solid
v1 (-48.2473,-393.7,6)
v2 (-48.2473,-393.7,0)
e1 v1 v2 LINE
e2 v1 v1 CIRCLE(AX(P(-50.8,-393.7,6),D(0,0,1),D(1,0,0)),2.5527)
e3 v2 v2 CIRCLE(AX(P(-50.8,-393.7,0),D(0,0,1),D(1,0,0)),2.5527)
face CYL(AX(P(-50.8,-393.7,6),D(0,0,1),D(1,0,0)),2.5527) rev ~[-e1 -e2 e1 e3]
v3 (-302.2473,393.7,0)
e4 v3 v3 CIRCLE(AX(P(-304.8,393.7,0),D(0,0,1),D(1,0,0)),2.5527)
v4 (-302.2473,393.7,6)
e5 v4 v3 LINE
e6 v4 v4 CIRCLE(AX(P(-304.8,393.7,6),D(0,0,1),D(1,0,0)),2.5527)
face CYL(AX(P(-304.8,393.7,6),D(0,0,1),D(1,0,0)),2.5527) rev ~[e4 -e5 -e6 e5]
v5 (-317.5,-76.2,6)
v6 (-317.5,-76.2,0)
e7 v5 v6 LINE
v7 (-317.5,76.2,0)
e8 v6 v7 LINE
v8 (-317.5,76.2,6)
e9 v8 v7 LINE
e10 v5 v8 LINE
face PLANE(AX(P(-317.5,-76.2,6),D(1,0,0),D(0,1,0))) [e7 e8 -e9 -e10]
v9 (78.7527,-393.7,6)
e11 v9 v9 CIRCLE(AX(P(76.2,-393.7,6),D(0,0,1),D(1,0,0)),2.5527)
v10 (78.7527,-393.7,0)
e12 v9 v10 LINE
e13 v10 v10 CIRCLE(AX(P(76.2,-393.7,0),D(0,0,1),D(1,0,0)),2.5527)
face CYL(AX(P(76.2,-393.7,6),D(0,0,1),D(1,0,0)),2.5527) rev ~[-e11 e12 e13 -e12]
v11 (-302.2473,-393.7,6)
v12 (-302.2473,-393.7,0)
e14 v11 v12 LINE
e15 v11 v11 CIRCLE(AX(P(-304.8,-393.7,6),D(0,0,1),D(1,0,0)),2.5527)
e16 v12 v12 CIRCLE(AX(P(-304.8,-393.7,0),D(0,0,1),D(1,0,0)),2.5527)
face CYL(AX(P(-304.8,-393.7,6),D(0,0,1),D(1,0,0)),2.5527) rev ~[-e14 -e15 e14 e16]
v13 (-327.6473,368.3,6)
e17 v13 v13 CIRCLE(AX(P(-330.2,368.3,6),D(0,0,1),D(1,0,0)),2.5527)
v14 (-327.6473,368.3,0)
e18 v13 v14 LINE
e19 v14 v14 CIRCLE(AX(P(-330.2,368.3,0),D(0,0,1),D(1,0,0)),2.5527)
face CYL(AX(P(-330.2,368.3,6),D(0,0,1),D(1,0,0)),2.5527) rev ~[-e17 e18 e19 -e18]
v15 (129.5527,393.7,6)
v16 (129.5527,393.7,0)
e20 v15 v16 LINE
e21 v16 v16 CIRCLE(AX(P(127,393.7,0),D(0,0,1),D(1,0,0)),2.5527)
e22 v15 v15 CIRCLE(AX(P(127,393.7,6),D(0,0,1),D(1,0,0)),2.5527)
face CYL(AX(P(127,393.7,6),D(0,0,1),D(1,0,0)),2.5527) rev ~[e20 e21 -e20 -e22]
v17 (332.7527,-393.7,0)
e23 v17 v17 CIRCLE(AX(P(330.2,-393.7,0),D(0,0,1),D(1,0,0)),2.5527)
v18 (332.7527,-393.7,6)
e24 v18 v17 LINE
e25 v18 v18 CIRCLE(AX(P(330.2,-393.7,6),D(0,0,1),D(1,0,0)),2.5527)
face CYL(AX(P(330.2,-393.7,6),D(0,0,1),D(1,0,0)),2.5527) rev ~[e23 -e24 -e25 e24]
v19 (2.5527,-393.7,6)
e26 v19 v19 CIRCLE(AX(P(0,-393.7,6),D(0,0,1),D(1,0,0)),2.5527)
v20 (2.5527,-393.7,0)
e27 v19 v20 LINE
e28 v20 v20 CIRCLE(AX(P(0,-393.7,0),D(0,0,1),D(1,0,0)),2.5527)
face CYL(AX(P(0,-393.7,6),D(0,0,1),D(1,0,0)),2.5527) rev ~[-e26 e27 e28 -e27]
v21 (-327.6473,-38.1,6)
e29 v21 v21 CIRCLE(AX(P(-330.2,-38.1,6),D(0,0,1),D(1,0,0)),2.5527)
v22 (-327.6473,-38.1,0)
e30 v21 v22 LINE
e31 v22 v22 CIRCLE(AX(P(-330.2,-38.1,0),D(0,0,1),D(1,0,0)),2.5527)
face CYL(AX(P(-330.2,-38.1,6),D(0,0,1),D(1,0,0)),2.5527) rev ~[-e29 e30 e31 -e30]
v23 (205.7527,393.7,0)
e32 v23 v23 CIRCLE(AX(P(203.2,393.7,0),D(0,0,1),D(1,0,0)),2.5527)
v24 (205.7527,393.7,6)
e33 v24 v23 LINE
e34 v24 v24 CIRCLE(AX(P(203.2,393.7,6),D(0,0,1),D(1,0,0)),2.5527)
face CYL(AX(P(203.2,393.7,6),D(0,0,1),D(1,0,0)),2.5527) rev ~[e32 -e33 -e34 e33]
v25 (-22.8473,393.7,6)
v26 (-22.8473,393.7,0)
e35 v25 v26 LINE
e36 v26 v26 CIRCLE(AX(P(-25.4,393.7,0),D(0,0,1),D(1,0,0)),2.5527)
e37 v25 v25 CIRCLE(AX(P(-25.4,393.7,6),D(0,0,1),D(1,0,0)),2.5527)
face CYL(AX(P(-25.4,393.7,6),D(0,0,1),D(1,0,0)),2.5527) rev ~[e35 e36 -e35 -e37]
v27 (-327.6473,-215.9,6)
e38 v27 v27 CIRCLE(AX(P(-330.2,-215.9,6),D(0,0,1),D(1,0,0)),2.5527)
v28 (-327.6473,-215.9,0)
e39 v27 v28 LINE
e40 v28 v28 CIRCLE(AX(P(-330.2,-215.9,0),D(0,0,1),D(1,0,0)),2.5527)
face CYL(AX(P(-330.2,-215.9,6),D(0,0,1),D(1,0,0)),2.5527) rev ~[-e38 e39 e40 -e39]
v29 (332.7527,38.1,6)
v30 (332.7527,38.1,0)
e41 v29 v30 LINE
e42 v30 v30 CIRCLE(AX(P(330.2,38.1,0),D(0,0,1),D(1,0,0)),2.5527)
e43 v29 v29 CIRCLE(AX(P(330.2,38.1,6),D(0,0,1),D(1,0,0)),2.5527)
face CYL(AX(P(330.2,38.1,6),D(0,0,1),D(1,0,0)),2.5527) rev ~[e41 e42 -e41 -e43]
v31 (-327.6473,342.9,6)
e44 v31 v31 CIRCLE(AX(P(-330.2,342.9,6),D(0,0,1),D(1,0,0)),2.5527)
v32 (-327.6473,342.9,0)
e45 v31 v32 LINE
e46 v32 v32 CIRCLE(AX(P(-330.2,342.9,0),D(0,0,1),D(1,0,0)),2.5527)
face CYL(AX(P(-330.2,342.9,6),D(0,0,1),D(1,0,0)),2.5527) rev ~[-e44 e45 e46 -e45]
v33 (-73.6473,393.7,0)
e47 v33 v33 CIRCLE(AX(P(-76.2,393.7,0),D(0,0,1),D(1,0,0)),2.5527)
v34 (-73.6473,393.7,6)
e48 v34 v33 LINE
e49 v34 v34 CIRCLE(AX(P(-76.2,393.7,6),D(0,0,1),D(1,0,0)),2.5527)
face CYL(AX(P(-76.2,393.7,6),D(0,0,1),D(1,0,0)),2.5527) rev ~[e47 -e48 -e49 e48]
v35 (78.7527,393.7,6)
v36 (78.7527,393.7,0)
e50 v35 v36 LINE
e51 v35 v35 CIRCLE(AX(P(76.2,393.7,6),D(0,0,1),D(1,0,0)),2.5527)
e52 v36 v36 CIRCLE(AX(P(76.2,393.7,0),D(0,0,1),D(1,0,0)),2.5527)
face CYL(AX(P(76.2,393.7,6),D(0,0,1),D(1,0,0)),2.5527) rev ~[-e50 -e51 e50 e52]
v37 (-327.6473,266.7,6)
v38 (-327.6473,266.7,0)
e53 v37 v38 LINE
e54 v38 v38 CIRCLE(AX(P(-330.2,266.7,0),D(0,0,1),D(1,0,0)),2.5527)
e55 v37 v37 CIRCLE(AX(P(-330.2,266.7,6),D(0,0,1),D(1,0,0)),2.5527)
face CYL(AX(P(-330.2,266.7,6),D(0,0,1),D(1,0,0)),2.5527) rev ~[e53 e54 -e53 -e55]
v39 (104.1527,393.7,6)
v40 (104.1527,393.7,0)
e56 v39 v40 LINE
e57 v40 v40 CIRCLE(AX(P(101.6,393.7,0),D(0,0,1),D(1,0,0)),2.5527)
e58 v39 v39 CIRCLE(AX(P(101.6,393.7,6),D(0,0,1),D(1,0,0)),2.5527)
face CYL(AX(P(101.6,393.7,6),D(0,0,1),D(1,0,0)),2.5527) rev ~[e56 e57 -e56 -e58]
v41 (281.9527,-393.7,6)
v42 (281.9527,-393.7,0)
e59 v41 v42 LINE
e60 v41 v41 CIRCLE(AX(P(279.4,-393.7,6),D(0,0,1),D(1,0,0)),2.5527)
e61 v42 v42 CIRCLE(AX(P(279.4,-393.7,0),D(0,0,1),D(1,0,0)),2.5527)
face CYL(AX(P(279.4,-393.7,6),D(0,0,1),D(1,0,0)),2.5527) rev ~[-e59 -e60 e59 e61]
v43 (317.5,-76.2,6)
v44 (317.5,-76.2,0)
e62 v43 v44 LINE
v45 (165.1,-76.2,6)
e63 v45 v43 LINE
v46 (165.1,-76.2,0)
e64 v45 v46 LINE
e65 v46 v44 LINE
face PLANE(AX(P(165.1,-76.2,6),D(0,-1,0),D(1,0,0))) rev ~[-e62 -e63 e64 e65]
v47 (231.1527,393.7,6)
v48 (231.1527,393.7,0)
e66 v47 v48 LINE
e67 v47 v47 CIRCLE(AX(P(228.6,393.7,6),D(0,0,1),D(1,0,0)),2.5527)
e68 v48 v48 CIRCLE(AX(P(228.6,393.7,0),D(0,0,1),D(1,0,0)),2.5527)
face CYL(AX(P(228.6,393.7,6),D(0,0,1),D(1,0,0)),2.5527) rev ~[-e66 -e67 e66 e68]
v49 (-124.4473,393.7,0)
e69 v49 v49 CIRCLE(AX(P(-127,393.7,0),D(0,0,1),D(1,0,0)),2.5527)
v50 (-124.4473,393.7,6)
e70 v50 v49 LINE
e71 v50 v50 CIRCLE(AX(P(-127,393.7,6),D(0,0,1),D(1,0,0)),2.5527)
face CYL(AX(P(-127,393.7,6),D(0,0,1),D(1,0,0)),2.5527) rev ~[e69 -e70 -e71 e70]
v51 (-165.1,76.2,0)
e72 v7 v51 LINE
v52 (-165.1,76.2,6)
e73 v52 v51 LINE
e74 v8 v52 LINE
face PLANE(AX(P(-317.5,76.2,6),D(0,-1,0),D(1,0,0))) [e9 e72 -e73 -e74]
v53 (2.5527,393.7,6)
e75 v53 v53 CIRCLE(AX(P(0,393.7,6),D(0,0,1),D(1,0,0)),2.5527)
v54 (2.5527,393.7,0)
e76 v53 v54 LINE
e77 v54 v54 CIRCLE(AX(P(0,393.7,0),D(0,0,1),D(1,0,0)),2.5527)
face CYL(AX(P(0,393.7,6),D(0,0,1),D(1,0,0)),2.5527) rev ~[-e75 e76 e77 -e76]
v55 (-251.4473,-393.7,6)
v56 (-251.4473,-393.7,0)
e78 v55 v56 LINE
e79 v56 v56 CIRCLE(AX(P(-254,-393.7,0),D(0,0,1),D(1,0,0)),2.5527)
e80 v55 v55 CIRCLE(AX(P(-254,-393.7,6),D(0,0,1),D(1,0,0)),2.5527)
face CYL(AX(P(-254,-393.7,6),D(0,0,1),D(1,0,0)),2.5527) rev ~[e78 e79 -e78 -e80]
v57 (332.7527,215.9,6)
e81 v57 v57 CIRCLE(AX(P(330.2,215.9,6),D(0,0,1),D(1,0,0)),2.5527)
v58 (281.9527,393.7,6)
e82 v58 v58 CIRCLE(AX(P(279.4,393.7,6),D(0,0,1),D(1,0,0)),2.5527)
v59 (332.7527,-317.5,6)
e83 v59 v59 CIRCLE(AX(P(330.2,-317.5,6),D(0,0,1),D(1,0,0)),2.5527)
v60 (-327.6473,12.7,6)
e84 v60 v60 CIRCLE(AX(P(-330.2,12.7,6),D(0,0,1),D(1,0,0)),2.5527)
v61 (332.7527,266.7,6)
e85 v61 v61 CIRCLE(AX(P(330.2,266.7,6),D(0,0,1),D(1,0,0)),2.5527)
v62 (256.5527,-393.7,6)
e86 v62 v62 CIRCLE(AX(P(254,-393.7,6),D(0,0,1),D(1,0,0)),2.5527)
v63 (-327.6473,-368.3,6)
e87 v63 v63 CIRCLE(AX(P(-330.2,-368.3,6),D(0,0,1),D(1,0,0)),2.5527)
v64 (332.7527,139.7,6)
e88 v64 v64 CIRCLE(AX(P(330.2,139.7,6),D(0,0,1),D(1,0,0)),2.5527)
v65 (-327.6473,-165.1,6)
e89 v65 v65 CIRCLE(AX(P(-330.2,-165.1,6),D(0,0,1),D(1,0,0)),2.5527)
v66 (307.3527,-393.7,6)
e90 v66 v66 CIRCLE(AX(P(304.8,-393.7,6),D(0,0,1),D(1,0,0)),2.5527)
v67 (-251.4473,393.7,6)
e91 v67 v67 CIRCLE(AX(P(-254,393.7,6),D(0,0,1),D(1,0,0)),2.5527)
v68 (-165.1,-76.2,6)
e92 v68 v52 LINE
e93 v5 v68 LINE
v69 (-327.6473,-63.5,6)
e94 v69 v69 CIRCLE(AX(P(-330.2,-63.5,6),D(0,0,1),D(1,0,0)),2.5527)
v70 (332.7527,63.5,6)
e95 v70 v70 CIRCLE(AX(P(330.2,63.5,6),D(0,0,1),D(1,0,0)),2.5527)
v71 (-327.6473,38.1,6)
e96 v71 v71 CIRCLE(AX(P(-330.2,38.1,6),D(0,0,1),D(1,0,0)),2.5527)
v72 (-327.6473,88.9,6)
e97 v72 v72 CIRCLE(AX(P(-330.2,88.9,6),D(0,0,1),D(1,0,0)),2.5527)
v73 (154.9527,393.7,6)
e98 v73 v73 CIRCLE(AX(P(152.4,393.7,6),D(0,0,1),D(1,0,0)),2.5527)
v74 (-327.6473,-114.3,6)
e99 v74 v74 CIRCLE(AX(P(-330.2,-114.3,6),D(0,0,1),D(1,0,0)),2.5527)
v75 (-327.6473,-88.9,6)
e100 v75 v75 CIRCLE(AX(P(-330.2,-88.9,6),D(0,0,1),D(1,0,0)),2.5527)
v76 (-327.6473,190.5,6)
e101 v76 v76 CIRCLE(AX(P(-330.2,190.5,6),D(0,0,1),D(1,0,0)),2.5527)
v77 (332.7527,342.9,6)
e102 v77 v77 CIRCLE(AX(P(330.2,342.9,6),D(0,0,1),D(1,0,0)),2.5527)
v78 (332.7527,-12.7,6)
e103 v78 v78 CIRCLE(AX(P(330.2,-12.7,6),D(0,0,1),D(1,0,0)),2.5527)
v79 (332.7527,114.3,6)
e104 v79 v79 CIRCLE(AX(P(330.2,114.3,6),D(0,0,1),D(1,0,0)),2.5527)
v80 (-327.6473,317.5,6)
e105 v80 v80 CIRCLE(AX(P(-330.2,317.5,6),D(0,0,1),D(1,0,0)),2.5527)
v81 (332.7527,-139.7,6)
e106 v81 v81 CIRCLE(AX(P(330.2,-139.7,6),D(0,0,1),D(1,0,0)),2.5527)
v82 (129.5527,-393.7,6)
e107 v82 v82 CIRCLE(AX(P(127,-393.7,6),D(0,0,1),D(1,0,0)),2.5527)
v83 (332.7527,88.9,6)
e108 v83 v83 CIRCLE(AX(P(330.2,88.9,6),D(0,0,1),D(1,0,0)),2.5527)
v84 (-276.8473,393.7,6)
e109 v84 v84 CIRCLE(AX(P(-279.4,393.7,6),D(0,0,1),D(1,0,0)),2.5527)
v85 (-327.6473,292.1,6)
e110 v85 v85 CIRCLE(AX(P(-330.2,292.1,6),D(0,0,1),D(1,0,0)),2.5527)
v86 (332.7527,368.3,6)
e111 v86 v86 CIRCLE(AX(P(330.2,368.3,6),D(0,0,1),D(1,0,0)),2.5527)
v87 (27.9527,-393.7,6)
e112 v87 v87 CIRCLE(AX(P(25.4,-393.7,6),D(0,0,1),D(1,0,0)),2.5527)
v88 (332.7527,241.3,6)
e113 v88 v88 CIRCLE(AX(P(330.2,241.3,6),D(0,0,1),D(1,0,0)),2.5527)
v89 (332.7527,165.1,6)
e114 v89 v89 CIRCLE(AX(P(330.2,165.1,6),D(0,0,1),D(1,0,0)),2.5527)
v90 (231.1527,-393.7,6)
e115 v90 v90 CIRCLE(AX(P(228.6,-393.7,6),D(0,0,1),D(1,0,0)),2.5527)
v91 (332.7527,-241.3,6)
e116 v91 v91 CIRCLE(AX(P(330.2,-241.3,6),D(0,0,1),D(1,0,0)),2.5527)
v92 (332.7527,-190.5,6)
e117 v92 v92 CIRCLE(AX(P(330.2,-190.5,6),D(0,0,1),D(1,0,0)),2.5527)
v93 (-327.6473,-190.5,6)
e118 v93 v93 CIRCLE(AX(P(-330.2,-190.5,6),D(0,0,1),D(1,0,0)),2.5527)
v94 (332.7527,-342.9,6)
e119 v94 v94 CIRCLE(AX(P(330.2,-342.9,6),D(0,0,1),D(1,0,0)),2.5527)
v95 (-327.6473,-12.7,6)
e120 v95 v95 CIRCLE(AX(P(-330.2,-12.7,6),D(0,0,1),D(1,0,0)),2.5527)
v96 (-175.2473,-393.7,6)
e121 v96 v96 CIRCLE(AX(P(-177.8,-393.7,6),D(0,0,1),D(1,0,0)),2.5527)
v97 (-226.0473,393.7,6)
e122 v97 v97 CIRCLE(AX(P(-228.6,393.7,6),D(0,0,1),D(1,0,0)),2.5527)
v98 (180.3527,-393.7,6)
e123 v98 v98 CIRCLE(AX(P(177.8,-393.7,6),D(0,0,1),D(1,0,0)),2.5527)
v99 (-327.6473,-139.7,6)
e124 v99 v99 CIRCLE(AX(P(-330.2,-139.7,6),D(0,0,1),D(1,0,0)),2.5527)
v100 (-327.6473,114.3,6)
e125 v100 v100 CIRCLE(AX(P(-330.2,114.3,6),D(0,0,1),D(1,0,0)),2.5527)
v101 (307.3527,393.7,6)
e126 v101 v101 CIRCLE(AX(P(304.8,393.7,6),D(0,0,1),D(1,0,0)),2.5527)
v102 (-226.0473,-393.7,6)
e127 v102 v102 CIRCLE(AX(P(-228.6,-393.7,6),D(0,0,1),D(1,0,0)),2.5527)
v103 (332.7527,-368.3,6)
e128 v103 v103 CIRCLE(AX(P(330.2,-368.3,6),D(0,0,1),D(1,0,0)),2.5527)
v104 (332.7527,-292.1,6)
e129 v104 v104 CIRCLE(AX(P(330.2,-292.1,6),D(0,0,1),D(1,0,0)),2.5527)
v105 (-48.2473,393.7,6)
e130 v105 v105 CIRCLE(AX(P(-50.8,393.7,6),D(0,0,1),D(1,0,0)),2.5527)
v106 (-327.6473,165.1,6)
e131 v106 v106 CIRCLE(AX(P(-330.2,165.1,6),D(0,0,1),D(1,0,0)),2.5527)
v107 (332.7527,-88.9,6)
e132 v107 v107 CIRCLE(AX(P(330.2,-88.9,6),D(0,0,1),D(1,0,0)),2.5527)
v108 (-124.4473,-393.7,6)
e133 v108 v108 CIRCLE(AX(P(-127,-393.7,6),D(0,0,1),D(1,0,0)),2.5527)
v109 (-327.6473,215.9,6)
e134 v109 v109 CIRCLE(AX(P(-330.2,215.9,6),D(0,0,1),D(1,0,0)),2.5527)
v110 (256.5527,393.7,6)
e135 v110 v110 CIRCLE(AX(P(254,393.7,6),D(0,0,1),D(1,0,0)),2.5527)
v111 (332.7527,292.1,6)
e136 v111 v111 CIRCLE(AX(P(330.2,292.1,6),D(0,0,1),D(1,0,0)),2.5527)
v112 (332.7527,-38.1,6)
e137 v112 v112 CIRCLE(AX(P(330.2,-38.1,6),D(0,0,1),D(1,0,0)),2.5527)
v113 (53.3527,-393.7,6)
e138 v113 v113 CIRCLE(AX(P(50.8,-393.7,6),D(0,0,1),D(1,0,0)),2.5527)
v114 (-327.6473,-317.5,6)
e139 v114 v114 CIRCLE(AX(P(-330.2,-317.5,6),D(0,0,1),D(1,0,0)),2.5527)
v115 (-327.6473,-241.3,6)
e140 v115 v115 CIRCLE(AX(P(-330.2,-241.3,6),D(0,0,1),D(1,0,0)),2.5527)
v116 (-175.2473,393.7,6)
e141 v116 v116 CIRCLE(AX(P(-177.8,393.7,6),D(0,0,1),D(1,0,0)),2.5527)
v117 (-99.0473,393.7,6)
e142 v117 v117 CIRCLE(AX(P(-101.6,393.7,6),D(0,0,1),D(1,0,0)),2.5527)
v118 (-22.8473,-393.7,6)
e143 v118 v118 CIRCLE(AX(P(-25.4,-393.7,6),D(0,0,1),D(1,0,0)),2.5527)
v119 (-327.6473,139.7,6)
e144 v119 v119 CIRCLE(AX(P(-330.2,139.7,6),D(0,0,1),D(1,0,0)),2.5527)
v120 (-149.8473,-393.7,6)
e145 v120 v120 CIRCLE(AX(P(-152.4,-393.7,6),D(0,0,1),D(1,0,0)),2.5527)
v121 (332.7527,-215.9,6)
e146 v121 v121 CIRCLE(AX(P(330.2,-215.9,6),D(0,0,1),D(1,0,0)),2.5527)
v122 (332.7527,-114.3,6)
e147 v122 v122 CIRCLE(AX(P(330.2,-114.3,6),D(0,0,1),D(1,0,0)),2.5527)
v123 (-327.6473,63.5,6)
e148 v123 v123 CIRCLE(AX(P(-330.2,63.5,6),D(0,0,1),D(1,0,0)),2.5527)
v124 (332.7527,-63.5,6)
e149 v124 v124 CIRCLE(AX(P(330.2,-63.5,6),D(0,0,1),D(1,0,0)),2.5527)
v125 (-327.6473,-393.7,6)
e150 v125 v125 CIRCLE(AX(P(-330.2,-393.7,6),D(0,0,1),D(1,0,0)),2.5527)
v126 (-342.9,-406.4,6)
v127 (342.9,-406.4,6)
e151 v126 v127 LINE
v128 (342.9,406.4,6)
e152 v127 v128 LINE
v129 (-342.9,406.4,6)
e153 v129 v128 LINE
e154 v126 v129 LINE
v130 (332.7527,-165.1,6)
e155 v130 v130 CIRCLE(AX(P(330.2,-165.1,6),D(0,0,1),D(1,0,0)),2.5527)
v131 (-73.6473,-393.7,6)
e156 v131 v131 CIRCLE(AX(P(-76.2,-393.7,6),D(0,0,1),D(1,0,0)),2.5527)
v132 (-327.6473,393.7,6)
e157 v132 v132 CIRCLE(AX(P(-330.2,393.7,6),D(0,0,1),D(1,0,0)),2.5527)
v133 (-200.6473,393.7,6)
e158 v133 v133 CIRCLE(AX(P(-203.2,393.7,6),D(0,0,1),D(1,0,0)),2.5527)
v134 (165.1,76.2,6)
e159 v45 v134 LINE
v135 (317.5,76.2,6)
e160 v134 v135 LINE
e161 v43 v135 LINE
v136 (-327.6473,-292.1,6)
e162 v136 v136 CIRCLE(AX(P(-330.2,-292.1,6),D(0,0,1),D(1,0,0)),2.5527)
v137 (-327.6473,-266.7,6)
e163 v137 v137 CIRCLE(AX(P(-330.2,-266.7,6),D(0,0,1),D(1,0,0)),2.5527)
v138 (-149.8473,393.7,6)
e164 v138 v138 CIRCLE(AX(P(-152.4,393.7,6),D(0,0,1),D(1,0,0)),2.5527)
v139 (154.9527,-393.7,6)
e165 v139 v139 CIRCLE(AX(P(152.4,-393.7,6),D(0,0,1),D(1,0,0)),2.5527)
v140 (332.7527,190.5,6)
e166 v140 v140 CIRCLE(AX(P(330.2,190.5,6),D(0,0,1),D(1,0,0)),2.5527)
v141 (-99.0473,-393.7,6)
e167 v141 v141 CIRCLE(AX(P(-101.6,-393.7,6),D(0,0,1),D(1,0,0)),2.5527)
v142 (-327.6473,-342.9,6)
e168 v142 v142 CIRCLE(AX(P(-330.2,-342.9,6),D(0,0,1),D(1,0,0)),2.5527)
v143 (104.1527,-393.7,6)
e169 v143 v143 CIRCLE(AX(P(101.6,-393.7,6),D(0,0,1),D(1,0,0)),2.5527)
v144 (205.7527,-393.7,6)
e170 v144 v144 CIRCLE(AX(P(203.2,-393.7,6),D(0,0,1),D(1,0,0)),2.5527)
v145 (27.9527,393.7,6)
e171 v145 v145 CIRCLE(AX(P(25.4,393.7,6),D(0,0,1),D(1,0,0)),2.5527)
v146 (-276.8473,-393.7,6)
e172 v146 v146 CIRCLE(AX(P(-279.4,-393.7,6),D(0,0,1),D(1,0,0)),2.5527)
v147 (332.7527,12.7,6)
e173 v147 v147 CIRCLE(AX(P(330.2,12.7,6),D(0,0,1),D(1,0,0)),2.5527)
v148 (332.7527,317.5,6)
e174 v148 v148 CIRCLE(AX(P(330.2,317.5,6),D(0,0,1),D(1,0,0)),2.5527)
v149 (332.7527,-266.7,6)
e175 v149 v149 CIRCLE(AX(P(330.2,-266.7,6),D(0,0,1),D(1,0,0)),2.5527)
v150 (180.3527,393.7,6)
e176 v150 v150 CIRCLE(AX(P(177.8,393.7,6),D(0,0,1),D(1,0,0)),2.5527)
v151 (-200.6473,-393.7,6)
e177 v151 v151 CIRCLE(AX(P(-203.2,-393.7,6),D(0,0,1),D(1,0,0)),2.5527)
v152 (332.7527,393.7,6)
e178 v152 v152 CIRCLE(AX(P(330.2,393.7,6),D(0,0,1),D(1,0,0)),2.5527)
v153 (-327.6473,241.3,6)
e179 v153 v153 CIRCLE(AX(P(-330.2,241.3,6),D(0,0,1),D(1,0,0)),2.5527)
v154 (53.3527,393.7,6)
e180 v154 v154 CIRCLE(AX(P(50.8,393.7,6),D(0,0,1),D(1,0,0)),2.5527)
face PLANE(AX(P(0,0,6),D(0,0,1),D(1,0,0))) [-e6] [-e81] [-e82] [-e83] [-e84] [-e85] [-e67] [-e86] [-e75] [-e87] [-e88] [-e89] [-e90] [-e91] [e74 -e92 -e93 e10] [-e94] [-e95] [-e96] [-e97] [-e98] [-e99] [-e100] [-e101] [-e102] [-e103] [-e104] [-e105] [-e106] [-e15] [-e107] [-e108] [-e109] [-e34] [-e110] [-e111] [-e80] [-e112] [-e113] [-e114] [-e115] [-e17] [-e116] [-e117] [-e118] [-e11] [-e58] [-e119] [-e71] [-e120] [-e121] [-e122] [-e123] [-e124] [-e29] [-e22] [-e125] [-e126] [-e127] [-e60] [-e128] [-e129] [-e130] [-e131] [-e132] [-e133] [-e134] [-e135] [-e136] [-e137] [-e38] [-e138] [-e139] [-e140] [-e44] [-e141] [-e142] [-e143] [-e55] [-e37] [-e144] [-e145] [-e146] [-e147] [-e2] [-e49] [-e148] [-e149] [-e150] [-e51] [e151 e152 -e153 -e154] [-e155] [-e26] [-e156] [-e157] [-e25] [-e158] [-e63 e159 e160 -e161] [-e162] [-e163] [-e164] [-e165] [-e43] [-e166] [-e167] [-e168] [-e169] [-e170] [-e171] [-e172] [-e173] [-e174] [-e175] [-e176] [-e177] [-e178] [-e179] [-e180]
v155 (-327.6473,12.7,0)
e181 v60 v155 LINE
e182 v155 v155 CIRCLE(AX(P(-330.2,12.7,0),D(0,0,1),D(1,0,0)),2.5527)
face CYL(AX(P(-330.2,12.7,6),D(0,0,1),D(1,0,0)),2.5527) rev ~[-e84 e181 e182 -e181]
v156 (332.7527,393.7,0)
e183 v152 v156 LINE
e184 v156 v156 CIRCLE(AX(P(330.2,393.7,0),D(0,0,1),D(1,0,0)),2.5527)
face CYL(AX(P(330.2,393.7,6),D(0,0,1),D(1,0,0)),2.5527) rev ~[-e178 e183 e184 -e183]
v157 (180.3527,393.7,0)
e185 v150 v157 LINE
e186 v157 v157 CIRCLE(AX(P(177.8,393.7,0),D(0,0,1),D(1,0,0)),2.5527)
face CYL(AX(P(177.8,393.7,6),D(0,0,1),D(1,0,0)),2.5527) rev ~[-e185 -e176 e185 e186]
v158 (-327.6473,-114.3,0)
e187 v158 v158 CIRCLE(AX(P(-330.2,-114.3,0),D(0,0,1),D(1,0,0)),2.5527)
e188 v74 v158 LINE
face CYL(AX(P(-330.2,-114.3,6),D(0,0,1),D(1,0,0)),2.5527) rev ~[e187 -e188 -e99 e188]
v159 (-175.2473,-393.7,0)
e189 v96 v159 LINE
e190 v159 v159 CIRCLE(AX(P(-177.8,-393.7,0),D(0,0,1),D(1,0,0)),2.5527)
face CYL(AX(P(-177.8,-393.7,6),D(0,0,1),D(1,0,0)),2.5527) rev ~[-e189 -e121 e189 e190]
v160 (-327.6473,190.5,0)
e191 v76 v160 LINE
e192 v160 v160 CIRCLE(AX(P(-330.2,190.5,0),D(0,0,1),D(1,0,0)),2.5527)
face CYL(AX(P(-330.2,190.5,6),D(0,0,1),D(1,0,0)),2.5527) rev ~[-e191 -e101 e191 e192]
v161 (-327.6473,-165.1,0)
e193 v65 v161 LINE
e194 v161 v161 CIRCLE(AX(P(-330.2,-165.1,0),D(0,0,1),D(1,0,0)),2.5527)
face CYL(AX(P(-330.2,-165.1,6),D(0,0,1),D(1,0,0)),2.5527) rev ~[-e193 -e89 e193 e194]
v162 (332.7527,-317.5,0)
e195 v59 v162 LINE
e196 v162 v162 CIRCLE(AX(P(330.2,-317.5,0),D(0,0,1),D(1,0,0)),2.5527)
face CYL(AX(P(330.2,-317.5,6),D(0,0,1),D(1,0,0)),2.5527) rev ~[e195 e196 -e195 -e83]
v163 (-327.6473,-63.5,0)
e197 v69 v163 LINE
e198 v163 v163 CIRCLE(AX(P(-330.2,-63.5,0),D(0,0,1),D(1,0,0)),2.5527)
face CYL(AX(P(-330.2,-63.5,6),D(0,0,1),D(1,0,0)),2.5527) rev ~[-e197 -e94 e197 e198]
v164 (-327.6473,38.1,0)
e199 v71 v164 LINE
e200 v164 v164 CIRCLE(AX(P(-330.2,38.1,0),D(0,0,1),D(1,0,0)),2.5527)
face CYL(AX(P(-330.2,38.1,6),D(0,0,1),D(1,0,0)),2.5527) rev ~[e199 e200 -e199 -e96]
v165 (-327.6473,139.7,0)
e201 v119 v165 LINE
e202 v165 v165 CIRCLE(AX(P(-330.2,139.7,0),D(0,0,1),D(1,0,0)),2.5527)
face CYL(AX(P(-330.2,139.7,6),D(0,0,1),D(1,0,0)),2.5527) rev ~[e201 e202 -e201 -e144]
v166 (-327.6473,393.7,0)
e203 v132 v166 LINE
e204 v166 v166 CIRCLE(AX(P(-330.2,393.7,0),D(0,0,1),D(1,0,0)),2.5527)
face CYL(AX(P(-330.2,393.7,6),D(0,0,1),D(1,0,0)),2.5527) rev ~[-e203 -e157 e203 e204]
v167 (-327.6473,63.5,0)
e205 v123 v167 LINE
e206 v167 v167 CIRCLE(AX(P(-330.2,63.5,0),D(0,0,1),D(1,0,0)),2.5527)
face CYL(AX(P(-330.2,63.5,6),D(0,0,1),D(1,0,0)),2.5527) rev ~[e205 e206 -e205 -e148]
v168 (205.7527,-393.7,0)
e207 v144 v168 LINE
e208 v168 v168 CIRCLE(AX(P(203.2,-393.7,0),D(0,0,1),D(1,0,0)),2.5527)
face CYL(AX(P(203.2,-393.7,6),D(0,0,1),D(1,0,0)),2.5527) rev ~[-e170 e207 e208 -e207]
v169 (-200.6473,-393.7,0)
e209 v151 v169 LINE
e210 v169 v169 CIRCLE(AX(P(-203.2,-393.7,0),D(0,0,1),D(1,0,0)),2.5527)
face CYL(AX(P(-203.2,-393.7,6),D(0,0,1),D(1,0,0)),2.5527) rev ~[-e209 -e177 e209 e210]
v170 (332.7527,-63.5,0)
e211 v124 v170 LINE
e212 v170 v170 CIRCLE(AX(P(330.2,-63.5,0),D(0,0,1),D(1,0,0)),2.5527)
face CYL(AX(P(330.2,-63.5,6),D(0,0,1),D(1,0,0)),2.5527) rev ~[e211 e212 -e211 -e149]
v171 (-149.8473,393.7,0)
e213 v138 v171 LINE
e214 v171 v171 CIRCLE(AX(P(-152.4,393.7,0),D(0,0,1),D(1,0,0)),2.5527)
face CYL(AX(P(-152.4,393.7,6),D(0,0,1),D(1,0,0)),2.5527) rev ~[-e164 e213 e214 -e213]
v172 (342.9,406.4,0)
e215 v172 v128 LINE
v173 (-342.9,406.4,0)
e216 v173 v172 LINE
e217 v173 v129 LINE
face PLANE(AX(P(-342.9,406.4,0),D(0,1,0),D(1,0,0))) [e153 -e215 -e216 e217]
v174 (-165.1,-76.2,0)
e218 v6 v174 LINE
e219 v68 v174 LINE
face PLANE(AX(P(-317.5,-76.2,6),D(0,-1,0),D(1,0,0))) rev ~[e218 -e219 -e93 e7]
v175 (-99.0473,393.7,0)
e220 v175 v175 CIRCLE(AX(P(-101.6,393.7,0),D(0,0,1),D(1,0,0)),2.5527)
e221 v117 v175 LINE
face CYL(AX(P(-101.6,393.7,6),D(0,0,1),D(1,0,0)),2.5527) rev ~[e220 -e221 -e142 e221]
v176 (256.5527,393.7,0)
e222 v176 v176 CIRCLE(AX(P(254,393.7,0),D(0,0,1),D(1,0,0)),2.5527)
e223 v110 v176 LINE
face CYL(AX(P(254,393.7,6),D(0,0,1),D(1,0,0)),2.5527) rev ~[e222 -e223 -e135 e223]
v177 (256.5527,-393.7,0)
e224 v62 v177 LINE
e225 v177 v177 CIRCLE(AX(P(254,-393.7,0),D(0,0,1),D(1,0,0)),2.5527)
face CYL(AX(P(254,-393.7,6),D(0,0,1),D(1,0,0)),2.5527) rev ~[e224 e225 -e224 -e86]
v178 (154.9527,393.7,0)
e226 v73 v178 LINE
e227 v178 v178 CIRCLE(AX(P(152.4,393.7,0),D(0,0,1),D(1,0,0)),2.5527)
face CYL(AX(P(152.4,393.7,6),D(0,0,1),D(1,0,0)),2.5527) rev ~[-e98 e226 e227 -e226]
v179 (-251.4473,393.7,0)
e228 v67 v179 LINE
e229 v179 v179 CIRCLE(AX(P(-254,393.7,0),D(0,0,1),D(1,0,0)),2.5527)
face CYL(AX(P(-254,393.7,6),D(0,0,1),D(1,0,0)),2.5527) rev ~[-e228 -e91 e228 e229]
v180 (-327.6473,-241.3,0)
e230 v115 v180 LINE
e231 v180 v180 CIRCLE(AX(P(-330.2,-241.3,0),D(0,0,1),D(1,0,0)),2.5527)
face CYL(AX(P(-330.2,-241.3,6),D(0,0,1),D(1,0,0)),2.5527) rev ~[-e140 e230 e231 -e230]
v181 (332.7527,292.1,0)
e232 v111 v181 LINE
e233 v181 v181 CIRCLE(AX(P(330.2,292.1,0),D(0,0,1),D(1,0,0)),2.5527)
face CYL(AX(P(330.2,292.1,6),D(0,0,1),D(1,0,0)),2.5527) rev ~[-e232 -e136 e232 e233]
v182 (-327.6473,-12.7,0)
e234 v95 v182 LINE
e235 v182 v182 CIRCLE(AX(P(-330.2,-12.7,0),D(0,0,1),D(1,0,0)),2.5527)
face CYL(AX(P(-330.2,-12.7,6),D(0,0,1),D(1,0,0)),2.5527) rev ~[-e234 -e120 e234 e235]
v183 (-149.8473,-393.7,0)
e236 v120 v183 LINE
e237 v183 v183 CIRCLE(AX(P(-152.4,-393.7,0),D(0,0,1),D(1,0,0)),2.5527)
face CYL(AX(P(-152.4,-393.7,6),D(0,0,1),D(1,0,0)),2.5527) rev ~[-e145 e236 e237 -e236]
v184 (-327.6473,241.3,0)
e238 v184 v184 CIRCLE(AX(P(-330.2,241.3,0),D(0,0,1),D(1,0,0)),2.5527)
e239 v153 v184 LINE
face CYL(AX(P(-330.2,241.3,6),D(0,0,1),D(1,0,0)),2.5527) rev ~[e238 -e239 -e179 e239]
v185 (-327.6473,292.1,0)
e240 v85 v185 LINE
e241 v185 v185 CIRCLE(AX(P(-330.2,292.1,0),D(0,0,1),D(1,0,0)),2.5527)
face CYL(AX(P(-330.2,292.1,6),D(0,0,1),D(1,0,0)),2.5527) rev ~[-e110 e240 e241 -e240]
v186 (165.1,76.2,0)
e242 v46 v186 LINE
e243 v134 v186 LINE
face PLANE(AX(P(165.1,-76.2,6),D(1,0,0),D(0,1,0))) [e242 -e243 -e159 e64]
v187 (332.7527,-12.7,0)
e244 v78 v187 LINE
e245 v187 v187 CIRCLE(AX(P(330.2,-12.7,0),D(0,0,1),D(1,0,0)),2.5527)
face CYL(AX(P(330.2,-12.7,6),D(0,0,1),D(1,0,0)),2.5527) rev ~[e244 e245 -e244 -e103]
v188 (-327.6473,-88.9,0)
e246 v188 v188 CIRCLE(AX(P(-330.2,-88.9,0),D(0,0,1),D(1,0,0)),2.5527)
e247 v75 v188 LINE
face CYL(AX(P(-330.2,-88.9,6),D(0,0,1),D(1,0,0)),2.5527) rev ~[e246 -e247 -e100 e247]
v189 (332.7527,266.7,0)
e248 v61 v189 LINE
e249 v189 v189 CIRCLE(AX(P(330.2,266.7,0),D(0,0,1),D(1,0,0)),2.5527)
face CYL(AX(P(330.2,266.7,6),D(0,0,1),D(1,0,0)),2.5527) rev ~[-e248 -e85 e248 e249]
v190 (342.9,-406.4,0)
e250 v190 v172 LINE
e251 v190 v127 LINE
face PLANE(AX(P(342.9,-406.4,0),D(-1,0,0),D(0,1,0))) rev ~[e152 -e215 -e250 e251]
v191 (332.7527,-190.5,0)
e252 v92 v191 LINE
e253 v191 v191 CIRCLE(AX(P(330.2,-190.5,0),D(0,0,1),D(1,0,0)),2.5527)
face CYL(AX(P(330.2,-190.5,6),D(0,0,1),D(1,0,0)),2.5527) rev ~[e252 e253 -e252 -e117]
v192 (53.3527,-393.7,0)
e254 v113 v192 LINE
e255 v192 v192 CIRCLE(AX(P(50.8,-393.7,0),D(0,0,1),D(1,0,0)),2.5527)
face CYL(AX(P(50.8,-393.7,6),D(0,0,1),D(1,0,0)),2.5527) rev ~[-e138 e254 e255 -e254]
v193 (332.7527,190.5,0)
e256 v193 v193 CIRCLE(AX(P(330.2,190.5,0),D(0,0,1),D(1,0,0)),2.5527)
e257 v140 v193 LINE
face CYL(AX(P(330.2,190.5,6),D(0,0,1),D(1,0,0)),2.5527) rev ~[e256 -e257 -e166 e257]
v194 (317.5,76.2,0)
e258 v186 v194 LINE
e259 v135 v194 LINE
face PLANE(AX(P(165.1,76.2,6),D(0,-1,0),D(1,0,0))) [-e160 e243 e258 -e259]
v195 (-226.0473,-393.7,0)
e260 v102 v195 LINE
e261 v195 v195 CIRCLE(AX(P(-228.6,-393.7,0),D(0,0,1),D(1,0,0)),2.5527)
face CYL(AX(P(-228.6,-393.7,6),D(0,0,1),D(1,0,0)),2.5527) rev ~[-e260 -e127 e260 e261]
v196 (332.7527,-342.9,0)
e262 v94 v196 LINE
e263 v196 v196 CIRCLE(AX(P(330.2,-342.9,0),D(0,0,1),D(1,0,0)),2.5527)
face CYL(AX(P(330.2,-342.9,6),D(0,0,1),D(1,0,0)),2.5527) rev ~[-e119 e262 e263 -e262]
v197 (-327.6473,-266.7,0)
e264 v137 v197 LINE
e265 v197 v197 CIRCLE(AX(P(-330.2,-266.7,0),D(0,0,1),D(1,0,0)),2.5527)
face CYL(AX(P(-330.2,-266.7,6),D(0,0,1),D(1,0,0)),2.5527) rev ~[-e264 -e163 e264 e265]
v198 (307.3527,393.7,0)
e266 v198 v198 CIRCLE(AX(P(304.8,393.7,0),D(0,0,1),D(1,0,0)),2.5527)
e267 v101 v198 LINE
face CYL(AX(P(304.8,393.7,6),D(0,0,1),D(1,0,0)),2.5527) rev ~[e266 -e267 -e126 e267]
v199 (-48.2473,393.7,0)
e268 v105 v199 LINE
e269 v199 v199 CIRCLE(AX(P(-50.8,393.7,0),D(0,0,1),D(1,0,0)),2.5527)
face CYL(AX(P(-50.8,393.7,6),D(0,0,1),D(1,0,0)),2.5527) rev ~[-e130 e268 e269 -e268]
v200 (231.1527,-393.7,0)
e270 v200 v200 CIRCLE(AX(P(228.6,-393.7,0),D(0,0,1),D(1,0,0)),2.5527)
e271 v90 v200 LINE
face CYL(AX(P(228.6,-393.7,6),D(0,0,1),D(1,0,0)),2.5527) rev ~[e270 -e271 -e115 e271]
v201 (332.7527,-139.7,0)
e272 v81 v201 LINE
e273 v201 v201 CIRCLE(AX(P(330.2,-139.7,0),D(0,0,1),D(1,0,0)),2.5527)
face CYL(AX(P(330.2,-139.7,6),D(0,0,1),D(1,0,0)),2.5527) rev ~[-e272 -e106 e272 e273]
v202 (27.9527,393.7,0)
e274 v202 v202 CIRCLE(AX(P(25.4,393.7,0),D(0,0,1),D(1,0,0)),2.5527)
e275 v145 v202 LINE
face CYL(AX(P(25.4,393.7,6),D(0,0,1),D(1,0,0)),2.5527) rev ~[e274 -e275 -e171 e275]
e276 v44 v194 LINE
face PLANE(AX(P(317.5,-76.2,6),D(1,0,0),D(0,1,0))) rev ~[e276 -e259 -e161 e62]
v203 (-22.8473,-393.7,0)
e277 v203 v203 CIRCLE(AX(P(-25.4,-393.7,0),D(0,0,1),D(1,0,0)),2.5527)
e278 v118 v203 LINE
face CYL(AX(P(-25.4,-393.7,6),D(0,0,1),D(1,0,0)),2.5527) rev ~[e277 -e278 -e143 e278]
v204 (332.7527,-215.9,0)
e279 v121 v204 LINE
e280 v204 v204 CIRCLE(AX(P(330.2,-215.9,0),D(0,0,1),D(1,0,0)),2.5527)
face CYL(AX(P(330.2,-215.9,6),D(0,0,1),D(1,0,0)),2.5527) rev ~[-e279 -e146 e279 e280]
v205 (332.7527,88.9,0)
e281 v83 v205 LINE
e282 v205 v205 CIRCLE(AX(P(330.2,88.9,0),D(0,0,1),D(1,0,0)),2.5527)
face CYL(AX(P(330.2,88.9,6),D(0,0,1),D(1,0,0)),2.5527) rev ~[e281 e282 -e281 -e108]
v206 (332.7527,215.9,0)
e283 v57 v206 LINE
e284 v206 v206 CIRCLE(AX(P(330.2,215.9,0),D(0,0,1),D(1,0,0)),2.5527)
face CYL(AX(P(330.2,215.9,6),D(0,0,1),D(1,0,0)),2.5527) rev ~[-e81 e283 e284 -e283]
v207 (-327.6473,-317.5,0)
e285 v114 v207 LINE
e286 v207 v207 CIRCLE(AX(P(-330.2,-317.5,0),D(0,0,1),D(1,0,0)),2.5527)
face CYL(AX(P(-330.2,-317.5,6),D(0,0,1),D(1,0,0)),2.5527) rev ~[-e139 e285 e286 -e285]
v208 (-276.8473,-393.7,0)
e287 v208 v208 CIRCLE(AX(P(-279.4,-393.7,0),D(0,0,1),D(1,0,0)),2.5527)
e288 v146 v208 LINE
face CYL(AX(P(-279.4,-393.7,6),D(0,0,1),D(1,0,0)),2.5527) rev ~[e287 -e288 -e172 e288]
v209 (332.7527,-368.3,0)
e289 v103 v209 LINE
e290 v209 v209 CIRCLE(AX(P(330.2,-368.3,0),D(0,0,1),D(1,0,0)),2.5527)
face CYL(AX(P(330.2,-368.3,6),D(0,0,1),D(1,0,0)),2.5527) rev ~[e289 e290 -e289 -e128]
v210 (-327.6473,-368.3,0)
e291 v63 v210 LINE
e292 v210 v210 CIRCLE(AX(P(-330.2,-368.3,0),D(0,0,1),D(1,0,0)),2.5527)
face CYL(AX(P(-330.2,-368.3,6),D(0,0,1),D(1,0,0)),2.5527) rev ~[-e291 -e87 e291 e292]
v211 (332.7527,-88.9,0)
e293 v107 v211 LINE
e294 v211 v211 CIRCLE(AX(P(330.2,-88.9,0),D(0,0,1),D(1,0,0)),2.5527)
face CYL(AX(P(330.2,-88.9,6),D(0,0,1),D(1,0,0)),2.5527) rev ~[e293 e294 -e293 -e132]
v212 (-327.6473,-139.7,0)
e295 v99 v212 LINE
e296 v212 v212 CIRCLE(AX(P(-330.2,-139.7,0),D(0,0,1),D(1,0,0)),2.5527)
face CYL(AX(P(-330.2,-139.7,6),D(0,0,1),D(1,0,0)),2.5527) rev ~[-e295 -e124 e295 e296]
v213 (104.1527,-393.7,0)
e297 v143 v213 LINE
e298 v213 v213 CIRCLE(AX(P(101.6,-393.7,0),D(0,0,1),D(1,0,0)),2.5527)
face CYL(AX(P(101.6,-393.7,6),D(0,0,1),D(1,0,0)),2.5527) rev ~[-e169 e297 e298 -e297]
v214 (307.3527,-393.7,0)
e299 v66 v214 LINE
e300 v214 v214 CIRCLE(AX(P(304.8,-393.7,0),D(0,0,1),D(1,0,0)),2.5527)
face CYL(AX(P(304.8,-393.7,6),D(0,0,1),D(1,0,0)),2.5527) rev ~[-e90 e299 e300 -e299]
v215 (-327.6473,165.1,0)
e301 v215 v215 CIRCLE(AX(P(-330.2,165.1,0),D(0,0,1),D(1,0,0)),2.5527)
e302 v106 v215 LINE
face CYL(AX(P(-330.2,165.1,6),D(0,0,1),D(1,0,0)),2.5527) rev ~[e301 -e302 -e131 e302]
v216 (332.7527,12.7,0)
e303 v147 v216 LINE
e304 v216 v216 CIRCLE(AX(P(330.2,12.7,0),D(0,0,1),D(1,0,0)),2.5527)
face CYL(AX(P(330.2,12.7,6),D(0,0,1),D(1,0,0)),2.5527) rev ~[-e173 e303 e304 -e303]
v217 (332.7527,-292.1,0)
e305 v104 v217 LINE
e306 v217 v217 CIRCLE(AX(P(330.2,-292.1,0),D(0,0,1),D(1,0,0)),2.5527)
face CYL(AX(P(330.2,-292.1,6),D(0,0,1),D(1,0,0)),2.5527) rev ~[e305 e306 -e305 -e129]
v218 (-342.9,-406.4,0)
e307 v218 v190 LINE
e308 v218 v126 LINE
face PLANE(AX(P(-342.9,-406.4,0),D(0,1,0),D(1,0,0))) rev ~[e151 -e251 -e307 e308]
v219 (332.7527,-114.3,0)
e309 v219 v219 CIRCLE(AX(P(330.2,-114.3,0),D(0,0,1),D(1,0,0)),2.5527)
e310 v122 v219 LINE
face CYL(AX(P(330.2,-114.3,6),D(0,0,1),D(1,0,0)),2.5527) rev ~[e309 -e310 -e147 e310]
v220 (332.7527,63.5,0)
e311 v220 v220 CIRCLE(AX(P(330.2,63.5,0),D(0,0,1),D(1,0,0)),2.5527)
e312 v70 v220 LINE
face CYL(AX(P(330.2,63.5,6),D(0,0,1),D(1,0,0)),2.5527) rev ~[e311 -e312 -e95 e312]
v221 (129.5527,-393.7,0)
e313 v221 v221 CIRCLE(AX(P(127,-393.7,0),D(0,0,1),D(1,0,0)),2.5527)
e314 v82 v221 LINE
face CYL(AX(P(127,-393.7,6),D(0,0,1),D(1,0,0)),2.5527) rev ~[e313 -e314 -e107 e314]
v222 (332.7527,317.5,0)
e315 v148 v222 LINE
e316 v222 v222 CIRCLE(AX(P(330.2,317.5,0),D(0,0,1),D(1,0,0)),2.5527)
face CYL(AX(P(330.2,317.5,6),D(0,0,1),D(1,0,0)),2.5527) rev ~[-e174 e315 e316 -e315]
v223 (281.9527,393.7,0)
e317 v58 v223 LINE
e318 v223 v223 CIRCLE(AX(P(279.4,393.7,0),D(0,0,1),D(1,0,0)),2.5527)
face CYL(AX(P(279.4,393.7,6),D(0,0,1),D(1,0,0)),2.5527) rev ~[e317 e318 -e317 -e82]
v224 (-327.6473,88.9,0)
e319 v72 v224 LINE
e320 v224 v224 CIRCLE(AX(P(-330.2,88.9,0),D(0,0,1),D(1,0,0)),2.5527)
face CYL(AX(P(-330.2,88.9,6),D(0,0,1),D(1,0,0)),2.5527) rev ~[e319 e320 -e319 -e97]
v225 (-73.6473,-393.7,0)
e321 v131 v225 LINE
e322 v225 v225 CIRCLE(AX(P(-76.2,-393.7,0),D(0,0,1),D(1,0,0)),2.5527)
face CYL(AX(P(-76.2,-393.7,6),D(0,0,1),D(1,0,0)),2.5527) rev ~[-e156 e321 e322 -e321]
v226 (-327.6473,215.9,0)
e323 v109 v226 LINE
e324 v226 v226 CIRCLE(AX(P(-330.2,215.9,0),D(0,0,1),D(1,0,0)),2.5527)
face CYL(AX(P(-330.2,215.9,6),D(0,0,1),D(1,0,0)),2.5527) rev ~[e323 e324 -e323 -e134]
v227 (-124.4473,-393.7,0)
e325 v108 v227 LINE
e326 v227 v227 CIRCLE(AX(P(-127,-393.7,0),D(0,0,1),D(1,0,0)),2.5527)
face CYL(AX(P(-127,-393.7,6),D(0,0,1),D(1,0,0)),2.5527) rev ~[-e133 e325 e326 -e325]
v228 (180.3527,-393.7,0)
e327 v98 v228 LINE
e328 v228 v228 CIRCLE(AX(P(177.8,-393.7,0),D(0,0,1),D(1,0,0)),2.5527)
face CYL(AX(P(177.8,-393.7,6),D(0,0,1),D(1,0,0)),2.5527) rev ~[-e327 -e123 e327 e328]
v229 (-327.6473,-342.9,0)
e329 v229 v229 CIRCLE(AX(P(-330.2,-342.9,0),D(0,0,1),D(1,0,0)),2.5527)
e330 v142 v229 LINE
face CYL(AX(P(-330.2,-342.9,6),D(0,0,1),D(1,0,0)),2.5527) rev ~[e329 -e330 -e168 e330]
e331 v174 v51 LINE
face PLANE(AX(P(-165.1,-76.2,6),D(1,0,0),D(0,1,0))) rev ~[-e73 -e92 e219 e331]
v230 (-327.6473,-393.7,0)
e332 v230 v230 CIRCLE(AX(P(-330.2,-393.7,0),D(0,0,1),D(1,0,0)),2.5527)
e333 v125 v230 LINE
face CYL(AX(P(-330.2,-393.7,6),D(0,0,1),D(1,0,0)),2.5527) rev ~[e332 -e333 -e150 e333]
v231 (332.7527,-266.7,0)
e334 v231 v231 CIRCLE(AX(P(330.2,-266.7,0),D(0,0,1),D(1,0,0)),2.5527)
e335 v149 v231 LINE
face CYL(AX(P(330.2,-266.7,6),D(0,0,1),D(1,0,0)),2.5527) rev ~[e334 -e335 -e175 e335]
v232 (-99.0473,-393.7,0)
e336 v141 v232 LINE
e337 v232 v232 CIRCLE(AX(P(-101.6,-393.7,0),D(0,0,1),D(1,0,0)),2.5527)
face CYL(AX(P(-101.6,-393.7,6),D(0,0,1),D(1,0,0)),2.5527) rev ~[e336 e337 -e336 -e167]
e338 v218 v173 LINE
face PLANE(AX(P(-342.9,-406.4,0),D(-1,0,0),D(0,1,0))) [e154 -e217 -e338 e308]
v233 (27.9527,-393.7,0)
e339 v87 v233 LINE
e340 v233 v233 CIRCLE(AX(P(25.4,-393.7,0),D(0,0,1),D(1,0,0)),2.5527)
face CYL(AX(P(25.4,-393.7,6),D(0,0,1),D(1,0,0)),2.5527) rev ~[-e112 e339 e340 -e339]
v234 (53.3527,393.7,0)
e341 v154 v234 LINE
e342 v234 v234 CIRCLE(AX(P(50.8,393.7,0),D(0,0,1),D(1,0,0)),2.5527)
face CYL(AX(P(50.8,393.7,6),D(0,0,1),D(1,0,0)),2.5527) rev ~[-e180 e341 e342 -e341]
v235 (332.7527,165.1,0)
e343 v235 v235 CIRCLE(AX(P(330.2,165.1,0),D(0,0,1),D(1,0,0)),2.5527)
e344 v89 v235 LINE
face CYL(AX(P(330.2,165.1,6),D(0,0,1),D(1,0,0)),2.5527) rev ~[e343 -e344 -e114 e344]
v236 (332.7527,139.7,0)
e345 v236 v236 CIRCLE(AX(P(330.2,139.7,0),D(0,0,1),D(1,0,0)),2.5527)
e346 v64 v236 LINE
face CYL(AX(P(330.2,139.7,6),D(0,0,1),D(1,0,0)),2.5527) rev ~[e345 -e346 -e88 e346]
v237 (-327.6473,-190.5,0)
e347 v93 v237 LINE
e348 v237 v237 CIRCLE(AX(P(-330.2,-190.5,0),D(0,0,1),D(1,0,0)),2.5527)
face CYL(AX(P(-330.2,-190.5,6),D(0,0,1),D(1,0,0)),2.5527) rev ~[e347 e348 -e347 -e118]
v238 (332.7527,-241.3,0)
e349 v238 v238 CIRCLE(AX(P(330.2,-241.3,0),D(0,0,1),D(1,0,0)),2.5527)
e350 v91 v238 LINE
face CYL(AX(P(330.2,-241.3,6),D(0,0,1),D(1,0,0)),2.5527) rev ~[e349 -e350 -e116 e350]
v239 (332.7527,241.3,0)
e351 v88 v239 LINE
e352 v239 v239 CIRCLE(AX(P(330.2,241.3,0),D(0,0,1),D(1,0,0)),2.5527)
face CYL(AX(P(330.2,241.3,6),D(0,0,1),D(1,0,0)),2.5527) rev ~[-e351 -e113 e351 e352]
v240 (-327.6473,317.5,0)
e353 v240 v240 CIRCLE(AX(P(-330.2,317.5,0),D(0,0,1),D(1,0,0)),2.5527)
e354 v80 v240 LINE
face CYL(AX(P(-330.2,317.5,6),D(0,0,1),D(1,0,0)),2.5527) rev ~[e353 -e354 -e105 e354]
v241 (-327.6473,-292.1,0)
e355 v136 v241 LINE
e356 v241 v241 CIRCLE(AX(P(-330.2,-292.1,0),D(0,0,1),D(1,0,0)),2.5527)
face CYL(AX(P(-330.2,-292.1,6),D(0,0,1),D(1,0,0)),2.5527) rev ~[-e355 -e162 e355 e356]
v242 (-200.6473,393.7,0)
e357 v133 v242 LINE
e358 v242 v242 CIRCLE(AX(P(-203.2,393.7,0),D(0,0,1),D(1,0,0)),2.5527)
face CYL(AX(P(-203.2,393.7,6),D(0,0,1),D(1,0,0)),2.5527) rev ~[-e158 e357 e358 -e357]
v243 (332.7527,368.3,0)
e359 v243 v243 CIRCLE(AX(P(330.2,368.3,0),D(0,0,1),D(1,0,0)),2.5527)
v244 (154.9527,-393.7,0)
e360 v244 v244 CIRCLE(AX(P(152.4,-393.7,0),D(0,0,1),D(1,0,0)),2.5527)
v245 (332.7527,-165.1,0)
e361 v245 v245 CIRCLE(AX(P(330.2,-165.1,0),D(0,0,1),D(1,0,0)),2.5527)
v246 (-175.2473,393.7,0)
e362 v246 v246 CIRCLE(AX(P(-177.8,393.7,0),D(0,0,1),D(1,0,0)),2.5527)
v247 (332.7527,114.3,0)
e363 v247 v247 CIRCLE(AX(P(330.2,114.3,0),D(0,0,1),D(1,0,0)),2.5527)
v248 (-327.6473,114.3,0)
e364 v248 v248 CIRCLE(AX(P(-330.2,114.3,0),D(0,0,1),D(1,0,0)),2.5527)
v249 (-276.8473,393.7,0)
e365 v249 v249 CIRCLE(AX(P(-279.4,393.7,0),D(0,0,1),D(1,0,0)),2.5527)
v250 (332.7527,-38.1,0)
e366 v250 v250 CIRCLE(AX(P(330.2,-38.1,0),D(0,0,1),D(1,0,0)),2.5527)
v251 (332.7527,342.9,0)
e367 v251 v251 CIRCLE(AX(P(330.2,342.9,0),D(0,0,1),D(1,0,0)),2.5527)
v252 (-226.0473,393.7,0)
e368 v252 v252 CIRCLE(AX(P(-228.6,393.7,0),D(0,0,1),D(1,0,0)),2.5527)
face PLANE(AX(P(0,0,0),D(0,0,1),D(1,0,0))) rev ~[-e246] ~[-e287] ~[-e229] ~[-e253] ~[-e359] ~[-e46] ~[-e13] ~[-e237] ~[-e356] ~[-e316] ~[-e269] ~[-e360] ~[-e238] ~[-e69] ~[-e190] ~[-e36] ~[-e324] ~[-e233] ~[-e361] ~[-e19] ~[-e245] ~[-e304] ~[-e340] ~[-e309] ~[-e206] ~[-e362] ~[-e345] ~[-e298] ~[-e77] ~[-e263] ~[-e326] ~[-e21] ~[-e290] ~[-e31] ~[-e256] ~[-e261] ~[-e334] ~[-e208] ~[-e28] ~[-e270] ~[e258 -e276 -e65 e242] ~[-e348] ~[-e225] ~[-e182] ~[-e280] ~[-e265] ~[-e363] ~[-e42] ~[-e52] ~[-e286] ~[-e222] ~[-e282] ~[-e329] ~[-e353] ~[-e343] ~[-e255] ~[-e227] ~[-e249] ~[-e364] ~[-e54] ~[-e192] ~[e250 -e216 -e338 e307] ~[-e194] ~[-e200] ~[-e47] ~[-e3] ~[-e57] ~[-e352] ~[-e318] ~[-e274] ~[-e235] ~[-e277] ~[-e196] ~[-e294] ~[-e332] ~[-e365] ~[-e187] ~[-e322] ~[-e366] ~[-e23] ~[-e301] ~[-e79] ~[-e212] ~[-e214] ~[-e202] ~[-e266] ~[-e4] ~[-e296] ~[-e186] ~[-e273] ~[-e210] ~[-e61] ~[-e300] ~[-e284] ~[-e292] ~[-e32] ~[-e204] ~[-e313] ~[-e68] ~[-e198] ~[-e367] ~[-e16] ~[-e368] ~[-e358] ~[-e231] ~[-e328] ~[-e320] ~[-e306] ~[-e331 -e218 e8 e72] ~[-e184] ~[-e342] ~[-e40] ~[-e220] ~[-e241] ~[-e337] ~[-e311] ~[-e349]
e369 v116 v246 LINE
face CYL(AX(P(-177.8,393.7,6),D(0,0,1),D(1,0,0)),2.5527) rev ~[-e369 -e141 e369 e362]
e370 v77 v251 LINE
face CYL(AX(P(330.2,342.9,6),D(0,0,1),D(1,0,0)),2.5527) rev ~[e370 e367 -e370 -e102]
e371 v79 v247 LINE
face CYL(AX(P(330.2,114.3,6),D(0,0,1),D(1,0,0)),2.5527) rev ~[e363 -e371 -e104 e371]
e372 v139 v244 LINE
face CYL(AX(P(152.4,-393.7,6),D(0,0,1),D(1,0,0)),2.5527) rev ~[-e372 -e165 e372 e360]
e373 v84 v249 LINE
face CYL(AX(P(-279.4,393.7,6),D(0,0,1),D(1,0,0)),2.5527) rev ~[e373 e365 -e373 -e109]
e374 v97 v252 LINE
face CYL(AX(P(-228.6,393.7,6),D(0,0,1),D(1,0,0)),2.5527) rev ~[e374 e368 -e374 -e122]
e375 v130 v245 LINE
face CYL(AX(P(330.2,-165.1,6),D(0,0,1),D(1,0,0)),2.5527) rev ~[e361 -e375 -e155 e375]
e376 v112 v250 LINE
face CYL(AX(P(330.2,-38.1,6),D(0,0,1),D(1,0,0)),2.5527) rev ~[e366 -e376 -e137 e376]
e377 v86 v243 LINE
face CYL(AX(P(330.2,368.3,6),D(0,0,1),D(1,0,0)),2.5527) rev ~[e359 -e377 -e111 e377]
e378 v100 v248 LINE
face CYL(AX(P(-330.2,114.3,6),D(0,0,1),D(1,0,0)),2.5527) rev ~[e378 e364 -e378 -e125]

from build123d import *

# Parameters (mm, degrees)
F0_W     = 685.8
F0_H     = 812.8
F1_DEPTH = 6
F2_R     = 2.5527
F3_DEPTH = 25.4
F4_W     = 152.4
F4_H     = 152.4
F5_DEPTH = 6.001


with BuildPart() as f1:
    # F0 (on Top) → F1 (new body)
    with BuildSketch(Plane.XY):
        Rectangle(F0_W, F0_H)
    extrude(amount=F1_DEPTH)

    # F2 (on face) → F3 (cut)
    with BuildSketch(Plane.XY.offset(6)):
        with Locations((-330.2, 393.7)):
            Circle(F2_R)
        with Locations((-330.2, 368.3)):
            Circle(F2_R)
        with Locations((-330.2, 342.9)):
            Circle(F2_R)
        with Locations((-330.2, 317.5)):
            Circle(F2_R)
        with Locations((-330.2, 292.1)):
            Circle(F2_R)
        with Locations((-330.2, 266.7)):
            Circle(F2_R)
        with Locations((-330.2, 241.3)):
            Circle(F2_R)
        with Locations((-330.2, 215.9)):
            Circle(F2_R)
        with Locations((-330.2, 190.5)):
            Circle(F2_R)
        with Locations((-330.2, 165.1)):
            Circle(F2_R)
        with Locations((-330.2, 139.7)):
            Circle(F2_R)
        with Locations((-330.2, 114.3)):
            Circle(F2_R)
        with Locations((-330.2, 88.9)):
            Circle(F2_R)
        with Locations((-330.2, 63.5)):
            Circle(F2_R)
        with Locations((-330.2, 38.1)):
            Circle(F2_R)
        with Locations((-330.2, 12.7)):
            Circle(F2_R)
        with Locations((-330.2, -12.7)):
            Circle(F2_R)
        with Locations((-330.2, -38.1)):
            Circle(F2_R)
        with Locations((-330.2, -63.5)):
            Circle(F2_R)
        with Locations((-330.2, -88.9)):
            Circle(F2_R)
        with Locations((-330.2, -114.3)):
            Circle(F2_R)
        with Locations((-330.2, -139.7)):
            Circle(F2_R)
        with Locations((-330.2, -165.1)):
            Circle(F2_R)
        with Locations((-330.2, -190.5)):
            Circle(F2_R)
        with Locations((-330.2, -215.9)):
            Circle(F2_R)
        with Locations((-330.2, -241.3)):
            Circle(F2_R)
        with Locations((-330.2, -266.7)):
            Circle(F2_R)
        with Locations((-330.2, -292.1)):
            Circle(F2_R)
        with Locations((-330.2, -317.5)):
            Circle(F2_R)
        with Locations((-330.2, -342.9)):
            Circle(F2_R)
        with Locations((-330.2, -368.3)):
            Circle(F2_R)
        with Locations((-330.2, -393.7)):
            Circle(F2_R)
        with Locations((-304.8, -393.7)):
            Circle(F2_R)
        with Locations((-279.4, -393.7)):
            Circle(F2_R)
        with Locations((-254, -393.7)):
            Circle(F2_R)
        with Locations((-228.6, -393.7)):
            Circle(F2_R)
        with Locations((-203.2, -393.7)):
            Circle(F2_R)
        with Locations((-177.8, -393.7)):
            Circle(F2_R)
        with Locations((-152.4, -393.7)):
            Circle(F2_R)
        with Locations((-127, -393.7)):
            Circle(F2_R)
        with Locations((-101.6, -393.7)):
            Circle(F2_R)
        with Locations((-76.2, -393.7)):
            Circle(F2_R)
        with Locations((-50.8, -393.7)):
            Circle(F2_R)
        with Locations((-25.4, -393.7)):
            Circle(F2_R)
        with Locations((0, -393.7)):
            Circle(F2_R)
        with Locations((25.4, -393.7)):
            Circle(F2_R)
        with Locations((50.8, -393.7)):
            Circle(F2_R)
        with Locations((76.2, -393.7)):
            Circle(F2_R)
        with Locations((101.6, -393.7)):
            Circle(F2_R)
        with Locations((127, -393.7)):
            Circle(F2_R)
        with Locations((152.4, -393.7)):
            Circle(F2_R)
        with Locations((177.8, -393.7)):
            Circle(F2_R)
        with Locations((203.2, -393.7)):
            Circle(F2_R)
        with Locations((228.6, -393.7)):
            Circle(F2_R)
        with Locations((254, -393.7)):
            Circle(F2_R)
        with Locations((279.4, -393.7)):
            Circle(F2_R)
        with Locations((304.8, -393.7)):
            Circle(F2_R)
        with Locations((330.2, -393.7)):
            Circle(F2_R)
        with Locations((-304.8, 393.7)):
            Circle(F2_R)
        with Locations((-279.4, 393.7)):
            Circle(F2_R)
        with Locations((-254, 393.7)):
            Circle(F2_R)
        with Locations((-228.6, 393.7)):
            Circle(F2_R)
        with Locations((-203.2, 393.7)):
            Circle(F2_R)
        with Locations((-177.8, 393.7)):
            Circle(F2_R)
        with Locations((-152.4, 393.7)):
            Circle(F2_R)
        with Locations((-127, 393.7)):
            Circle(F2_R)
        with Locations((-101.6, 393.7)):
            Circle(F2_R)
        with Locations((-76.2, 393.7)):
            Circle(F2_R)
        with Locations((-50.8, 393.7)):
            Circle(F2_R)
        with Locations((-25.4, 393.7)):
            Circle(F2_R)
        with Locations((0, 393.7)):
            Circle(F2_R)
        with Locations((25.4, 393.7)):
            Circle(F2_R)
        with Locations((50.8, 393.7)):
            Circle(F2_R)
        with Locations((76.2, 393.7)):
            Circle(F2_R)
        with Locations((101.6, 393.7)):
            Circle(F2_R)
        with Locations((127, 393.7)):
            Circle(F2_R)
        with Locations((152.4, 393.7)):
            Circle(F2_R)
        with Locations((177.8, 393.7)):
            Circle(F2_R)
        with Locations((203.2, 393.7)):
            Circle(F2_R)
        with Locations((228.6, 393.7)):
            Circle(F2_R)
        with Locations((254, 393.7)):
            Circle(F2_R)
        with Locations((279.4, 393.7)):
            Circle(F2_R)
        with Locations((304.8, 393.7)):
            Circle(F2_R)
        with Locations((330.2, 393.7)):
            Circle(F2_R)
        with Locations((330.2, 368.3)):
            Circle(F2_R)
        with Locations((330.2, 342.9)):
            Circle(F2_R)
        with Locations((330.2, 317.5)):
            Circle(F2_R)
        with Locations((330.2, 292.1)):
            Circle(F2_R)
        with Locations((330.2, 266.7)):
            Circle(F2_R)
        with Locations((330.2, 241.3)):
            Circle(F2_R)
        with Locations((330.2, 215.9)):
            Circle(F2_R)
        with Locations((330.2, 190.5)):
            Circle(F2_R)
        with Locations((330.2, 165.1)):
            Circle(F2_R)
        with Locations((330.2, 139.7)):
            Circle(F2_R)
        with Locations((330.2, 114.3)):
            Circle(F2_R)
        with Locations((330.2, 88.9)):
            Circle(F2_R)
        with Locations((330.2, 63.5)):
            Circle(F2_R)
        with Locations((330.2, 38.1)):
            Circle(F2_R)
        with Locations((330.2, 12.7)):
            Circle(F2_R)
        with Locations((330.2, -12.7)):
            Circle(F2_R)
        with Locations((330.2, -38.1)):
            Circle(F2_R)
        with Locations((330.2, -63.5)):
            Circle(F2_R)
        with Locations((330.2, -88.9)):
            Circle(F2_R)
        with Locations((330.2, -114.3)):
            Circle(F2_R)
        with Locations((330.2, -139.7)):
            Circle(F2_R)
        with Locations((330.2, -165.1)):
            Circle(F2_R)
        with Locations((330.2, -190.5)):
            Circle(F2_R)
        with Locations((330.2, -215.9)):
            Circle(F2_R)
        with Locations((330.2, -241.3)):
            Circle(F2_R)
        with Locations((330.2, -266.7)):
            Circle(F2_R)
        with Locations((330.2, -292.1)):
            Circle(F2_R)
        with Locations((330.2, -317.5)):
            Circle(F2_R)
        with Locations((330.2, -342.9)):
            Circle(F2_R)
        with Locations((330.2, -368.3)):
            Circle(F2_R)
    extrude(amount=-F3_DEPTH, mode=Mode.SUBTRACT)

    # F4 (on face) → F5 (cut, through all)
    with BuildSketch(Plane.XY.offset(6)):
        with Locations((-241.3, 0)):
            Rectangle(F4_W, F4_H)
        with Locations((241.3, 0)):
            Rectangle(F4_W, F4_H)
    extrude(amount=-F5_DEPTH, mode=Mode.SUBTRACT)


solid = f1.part
